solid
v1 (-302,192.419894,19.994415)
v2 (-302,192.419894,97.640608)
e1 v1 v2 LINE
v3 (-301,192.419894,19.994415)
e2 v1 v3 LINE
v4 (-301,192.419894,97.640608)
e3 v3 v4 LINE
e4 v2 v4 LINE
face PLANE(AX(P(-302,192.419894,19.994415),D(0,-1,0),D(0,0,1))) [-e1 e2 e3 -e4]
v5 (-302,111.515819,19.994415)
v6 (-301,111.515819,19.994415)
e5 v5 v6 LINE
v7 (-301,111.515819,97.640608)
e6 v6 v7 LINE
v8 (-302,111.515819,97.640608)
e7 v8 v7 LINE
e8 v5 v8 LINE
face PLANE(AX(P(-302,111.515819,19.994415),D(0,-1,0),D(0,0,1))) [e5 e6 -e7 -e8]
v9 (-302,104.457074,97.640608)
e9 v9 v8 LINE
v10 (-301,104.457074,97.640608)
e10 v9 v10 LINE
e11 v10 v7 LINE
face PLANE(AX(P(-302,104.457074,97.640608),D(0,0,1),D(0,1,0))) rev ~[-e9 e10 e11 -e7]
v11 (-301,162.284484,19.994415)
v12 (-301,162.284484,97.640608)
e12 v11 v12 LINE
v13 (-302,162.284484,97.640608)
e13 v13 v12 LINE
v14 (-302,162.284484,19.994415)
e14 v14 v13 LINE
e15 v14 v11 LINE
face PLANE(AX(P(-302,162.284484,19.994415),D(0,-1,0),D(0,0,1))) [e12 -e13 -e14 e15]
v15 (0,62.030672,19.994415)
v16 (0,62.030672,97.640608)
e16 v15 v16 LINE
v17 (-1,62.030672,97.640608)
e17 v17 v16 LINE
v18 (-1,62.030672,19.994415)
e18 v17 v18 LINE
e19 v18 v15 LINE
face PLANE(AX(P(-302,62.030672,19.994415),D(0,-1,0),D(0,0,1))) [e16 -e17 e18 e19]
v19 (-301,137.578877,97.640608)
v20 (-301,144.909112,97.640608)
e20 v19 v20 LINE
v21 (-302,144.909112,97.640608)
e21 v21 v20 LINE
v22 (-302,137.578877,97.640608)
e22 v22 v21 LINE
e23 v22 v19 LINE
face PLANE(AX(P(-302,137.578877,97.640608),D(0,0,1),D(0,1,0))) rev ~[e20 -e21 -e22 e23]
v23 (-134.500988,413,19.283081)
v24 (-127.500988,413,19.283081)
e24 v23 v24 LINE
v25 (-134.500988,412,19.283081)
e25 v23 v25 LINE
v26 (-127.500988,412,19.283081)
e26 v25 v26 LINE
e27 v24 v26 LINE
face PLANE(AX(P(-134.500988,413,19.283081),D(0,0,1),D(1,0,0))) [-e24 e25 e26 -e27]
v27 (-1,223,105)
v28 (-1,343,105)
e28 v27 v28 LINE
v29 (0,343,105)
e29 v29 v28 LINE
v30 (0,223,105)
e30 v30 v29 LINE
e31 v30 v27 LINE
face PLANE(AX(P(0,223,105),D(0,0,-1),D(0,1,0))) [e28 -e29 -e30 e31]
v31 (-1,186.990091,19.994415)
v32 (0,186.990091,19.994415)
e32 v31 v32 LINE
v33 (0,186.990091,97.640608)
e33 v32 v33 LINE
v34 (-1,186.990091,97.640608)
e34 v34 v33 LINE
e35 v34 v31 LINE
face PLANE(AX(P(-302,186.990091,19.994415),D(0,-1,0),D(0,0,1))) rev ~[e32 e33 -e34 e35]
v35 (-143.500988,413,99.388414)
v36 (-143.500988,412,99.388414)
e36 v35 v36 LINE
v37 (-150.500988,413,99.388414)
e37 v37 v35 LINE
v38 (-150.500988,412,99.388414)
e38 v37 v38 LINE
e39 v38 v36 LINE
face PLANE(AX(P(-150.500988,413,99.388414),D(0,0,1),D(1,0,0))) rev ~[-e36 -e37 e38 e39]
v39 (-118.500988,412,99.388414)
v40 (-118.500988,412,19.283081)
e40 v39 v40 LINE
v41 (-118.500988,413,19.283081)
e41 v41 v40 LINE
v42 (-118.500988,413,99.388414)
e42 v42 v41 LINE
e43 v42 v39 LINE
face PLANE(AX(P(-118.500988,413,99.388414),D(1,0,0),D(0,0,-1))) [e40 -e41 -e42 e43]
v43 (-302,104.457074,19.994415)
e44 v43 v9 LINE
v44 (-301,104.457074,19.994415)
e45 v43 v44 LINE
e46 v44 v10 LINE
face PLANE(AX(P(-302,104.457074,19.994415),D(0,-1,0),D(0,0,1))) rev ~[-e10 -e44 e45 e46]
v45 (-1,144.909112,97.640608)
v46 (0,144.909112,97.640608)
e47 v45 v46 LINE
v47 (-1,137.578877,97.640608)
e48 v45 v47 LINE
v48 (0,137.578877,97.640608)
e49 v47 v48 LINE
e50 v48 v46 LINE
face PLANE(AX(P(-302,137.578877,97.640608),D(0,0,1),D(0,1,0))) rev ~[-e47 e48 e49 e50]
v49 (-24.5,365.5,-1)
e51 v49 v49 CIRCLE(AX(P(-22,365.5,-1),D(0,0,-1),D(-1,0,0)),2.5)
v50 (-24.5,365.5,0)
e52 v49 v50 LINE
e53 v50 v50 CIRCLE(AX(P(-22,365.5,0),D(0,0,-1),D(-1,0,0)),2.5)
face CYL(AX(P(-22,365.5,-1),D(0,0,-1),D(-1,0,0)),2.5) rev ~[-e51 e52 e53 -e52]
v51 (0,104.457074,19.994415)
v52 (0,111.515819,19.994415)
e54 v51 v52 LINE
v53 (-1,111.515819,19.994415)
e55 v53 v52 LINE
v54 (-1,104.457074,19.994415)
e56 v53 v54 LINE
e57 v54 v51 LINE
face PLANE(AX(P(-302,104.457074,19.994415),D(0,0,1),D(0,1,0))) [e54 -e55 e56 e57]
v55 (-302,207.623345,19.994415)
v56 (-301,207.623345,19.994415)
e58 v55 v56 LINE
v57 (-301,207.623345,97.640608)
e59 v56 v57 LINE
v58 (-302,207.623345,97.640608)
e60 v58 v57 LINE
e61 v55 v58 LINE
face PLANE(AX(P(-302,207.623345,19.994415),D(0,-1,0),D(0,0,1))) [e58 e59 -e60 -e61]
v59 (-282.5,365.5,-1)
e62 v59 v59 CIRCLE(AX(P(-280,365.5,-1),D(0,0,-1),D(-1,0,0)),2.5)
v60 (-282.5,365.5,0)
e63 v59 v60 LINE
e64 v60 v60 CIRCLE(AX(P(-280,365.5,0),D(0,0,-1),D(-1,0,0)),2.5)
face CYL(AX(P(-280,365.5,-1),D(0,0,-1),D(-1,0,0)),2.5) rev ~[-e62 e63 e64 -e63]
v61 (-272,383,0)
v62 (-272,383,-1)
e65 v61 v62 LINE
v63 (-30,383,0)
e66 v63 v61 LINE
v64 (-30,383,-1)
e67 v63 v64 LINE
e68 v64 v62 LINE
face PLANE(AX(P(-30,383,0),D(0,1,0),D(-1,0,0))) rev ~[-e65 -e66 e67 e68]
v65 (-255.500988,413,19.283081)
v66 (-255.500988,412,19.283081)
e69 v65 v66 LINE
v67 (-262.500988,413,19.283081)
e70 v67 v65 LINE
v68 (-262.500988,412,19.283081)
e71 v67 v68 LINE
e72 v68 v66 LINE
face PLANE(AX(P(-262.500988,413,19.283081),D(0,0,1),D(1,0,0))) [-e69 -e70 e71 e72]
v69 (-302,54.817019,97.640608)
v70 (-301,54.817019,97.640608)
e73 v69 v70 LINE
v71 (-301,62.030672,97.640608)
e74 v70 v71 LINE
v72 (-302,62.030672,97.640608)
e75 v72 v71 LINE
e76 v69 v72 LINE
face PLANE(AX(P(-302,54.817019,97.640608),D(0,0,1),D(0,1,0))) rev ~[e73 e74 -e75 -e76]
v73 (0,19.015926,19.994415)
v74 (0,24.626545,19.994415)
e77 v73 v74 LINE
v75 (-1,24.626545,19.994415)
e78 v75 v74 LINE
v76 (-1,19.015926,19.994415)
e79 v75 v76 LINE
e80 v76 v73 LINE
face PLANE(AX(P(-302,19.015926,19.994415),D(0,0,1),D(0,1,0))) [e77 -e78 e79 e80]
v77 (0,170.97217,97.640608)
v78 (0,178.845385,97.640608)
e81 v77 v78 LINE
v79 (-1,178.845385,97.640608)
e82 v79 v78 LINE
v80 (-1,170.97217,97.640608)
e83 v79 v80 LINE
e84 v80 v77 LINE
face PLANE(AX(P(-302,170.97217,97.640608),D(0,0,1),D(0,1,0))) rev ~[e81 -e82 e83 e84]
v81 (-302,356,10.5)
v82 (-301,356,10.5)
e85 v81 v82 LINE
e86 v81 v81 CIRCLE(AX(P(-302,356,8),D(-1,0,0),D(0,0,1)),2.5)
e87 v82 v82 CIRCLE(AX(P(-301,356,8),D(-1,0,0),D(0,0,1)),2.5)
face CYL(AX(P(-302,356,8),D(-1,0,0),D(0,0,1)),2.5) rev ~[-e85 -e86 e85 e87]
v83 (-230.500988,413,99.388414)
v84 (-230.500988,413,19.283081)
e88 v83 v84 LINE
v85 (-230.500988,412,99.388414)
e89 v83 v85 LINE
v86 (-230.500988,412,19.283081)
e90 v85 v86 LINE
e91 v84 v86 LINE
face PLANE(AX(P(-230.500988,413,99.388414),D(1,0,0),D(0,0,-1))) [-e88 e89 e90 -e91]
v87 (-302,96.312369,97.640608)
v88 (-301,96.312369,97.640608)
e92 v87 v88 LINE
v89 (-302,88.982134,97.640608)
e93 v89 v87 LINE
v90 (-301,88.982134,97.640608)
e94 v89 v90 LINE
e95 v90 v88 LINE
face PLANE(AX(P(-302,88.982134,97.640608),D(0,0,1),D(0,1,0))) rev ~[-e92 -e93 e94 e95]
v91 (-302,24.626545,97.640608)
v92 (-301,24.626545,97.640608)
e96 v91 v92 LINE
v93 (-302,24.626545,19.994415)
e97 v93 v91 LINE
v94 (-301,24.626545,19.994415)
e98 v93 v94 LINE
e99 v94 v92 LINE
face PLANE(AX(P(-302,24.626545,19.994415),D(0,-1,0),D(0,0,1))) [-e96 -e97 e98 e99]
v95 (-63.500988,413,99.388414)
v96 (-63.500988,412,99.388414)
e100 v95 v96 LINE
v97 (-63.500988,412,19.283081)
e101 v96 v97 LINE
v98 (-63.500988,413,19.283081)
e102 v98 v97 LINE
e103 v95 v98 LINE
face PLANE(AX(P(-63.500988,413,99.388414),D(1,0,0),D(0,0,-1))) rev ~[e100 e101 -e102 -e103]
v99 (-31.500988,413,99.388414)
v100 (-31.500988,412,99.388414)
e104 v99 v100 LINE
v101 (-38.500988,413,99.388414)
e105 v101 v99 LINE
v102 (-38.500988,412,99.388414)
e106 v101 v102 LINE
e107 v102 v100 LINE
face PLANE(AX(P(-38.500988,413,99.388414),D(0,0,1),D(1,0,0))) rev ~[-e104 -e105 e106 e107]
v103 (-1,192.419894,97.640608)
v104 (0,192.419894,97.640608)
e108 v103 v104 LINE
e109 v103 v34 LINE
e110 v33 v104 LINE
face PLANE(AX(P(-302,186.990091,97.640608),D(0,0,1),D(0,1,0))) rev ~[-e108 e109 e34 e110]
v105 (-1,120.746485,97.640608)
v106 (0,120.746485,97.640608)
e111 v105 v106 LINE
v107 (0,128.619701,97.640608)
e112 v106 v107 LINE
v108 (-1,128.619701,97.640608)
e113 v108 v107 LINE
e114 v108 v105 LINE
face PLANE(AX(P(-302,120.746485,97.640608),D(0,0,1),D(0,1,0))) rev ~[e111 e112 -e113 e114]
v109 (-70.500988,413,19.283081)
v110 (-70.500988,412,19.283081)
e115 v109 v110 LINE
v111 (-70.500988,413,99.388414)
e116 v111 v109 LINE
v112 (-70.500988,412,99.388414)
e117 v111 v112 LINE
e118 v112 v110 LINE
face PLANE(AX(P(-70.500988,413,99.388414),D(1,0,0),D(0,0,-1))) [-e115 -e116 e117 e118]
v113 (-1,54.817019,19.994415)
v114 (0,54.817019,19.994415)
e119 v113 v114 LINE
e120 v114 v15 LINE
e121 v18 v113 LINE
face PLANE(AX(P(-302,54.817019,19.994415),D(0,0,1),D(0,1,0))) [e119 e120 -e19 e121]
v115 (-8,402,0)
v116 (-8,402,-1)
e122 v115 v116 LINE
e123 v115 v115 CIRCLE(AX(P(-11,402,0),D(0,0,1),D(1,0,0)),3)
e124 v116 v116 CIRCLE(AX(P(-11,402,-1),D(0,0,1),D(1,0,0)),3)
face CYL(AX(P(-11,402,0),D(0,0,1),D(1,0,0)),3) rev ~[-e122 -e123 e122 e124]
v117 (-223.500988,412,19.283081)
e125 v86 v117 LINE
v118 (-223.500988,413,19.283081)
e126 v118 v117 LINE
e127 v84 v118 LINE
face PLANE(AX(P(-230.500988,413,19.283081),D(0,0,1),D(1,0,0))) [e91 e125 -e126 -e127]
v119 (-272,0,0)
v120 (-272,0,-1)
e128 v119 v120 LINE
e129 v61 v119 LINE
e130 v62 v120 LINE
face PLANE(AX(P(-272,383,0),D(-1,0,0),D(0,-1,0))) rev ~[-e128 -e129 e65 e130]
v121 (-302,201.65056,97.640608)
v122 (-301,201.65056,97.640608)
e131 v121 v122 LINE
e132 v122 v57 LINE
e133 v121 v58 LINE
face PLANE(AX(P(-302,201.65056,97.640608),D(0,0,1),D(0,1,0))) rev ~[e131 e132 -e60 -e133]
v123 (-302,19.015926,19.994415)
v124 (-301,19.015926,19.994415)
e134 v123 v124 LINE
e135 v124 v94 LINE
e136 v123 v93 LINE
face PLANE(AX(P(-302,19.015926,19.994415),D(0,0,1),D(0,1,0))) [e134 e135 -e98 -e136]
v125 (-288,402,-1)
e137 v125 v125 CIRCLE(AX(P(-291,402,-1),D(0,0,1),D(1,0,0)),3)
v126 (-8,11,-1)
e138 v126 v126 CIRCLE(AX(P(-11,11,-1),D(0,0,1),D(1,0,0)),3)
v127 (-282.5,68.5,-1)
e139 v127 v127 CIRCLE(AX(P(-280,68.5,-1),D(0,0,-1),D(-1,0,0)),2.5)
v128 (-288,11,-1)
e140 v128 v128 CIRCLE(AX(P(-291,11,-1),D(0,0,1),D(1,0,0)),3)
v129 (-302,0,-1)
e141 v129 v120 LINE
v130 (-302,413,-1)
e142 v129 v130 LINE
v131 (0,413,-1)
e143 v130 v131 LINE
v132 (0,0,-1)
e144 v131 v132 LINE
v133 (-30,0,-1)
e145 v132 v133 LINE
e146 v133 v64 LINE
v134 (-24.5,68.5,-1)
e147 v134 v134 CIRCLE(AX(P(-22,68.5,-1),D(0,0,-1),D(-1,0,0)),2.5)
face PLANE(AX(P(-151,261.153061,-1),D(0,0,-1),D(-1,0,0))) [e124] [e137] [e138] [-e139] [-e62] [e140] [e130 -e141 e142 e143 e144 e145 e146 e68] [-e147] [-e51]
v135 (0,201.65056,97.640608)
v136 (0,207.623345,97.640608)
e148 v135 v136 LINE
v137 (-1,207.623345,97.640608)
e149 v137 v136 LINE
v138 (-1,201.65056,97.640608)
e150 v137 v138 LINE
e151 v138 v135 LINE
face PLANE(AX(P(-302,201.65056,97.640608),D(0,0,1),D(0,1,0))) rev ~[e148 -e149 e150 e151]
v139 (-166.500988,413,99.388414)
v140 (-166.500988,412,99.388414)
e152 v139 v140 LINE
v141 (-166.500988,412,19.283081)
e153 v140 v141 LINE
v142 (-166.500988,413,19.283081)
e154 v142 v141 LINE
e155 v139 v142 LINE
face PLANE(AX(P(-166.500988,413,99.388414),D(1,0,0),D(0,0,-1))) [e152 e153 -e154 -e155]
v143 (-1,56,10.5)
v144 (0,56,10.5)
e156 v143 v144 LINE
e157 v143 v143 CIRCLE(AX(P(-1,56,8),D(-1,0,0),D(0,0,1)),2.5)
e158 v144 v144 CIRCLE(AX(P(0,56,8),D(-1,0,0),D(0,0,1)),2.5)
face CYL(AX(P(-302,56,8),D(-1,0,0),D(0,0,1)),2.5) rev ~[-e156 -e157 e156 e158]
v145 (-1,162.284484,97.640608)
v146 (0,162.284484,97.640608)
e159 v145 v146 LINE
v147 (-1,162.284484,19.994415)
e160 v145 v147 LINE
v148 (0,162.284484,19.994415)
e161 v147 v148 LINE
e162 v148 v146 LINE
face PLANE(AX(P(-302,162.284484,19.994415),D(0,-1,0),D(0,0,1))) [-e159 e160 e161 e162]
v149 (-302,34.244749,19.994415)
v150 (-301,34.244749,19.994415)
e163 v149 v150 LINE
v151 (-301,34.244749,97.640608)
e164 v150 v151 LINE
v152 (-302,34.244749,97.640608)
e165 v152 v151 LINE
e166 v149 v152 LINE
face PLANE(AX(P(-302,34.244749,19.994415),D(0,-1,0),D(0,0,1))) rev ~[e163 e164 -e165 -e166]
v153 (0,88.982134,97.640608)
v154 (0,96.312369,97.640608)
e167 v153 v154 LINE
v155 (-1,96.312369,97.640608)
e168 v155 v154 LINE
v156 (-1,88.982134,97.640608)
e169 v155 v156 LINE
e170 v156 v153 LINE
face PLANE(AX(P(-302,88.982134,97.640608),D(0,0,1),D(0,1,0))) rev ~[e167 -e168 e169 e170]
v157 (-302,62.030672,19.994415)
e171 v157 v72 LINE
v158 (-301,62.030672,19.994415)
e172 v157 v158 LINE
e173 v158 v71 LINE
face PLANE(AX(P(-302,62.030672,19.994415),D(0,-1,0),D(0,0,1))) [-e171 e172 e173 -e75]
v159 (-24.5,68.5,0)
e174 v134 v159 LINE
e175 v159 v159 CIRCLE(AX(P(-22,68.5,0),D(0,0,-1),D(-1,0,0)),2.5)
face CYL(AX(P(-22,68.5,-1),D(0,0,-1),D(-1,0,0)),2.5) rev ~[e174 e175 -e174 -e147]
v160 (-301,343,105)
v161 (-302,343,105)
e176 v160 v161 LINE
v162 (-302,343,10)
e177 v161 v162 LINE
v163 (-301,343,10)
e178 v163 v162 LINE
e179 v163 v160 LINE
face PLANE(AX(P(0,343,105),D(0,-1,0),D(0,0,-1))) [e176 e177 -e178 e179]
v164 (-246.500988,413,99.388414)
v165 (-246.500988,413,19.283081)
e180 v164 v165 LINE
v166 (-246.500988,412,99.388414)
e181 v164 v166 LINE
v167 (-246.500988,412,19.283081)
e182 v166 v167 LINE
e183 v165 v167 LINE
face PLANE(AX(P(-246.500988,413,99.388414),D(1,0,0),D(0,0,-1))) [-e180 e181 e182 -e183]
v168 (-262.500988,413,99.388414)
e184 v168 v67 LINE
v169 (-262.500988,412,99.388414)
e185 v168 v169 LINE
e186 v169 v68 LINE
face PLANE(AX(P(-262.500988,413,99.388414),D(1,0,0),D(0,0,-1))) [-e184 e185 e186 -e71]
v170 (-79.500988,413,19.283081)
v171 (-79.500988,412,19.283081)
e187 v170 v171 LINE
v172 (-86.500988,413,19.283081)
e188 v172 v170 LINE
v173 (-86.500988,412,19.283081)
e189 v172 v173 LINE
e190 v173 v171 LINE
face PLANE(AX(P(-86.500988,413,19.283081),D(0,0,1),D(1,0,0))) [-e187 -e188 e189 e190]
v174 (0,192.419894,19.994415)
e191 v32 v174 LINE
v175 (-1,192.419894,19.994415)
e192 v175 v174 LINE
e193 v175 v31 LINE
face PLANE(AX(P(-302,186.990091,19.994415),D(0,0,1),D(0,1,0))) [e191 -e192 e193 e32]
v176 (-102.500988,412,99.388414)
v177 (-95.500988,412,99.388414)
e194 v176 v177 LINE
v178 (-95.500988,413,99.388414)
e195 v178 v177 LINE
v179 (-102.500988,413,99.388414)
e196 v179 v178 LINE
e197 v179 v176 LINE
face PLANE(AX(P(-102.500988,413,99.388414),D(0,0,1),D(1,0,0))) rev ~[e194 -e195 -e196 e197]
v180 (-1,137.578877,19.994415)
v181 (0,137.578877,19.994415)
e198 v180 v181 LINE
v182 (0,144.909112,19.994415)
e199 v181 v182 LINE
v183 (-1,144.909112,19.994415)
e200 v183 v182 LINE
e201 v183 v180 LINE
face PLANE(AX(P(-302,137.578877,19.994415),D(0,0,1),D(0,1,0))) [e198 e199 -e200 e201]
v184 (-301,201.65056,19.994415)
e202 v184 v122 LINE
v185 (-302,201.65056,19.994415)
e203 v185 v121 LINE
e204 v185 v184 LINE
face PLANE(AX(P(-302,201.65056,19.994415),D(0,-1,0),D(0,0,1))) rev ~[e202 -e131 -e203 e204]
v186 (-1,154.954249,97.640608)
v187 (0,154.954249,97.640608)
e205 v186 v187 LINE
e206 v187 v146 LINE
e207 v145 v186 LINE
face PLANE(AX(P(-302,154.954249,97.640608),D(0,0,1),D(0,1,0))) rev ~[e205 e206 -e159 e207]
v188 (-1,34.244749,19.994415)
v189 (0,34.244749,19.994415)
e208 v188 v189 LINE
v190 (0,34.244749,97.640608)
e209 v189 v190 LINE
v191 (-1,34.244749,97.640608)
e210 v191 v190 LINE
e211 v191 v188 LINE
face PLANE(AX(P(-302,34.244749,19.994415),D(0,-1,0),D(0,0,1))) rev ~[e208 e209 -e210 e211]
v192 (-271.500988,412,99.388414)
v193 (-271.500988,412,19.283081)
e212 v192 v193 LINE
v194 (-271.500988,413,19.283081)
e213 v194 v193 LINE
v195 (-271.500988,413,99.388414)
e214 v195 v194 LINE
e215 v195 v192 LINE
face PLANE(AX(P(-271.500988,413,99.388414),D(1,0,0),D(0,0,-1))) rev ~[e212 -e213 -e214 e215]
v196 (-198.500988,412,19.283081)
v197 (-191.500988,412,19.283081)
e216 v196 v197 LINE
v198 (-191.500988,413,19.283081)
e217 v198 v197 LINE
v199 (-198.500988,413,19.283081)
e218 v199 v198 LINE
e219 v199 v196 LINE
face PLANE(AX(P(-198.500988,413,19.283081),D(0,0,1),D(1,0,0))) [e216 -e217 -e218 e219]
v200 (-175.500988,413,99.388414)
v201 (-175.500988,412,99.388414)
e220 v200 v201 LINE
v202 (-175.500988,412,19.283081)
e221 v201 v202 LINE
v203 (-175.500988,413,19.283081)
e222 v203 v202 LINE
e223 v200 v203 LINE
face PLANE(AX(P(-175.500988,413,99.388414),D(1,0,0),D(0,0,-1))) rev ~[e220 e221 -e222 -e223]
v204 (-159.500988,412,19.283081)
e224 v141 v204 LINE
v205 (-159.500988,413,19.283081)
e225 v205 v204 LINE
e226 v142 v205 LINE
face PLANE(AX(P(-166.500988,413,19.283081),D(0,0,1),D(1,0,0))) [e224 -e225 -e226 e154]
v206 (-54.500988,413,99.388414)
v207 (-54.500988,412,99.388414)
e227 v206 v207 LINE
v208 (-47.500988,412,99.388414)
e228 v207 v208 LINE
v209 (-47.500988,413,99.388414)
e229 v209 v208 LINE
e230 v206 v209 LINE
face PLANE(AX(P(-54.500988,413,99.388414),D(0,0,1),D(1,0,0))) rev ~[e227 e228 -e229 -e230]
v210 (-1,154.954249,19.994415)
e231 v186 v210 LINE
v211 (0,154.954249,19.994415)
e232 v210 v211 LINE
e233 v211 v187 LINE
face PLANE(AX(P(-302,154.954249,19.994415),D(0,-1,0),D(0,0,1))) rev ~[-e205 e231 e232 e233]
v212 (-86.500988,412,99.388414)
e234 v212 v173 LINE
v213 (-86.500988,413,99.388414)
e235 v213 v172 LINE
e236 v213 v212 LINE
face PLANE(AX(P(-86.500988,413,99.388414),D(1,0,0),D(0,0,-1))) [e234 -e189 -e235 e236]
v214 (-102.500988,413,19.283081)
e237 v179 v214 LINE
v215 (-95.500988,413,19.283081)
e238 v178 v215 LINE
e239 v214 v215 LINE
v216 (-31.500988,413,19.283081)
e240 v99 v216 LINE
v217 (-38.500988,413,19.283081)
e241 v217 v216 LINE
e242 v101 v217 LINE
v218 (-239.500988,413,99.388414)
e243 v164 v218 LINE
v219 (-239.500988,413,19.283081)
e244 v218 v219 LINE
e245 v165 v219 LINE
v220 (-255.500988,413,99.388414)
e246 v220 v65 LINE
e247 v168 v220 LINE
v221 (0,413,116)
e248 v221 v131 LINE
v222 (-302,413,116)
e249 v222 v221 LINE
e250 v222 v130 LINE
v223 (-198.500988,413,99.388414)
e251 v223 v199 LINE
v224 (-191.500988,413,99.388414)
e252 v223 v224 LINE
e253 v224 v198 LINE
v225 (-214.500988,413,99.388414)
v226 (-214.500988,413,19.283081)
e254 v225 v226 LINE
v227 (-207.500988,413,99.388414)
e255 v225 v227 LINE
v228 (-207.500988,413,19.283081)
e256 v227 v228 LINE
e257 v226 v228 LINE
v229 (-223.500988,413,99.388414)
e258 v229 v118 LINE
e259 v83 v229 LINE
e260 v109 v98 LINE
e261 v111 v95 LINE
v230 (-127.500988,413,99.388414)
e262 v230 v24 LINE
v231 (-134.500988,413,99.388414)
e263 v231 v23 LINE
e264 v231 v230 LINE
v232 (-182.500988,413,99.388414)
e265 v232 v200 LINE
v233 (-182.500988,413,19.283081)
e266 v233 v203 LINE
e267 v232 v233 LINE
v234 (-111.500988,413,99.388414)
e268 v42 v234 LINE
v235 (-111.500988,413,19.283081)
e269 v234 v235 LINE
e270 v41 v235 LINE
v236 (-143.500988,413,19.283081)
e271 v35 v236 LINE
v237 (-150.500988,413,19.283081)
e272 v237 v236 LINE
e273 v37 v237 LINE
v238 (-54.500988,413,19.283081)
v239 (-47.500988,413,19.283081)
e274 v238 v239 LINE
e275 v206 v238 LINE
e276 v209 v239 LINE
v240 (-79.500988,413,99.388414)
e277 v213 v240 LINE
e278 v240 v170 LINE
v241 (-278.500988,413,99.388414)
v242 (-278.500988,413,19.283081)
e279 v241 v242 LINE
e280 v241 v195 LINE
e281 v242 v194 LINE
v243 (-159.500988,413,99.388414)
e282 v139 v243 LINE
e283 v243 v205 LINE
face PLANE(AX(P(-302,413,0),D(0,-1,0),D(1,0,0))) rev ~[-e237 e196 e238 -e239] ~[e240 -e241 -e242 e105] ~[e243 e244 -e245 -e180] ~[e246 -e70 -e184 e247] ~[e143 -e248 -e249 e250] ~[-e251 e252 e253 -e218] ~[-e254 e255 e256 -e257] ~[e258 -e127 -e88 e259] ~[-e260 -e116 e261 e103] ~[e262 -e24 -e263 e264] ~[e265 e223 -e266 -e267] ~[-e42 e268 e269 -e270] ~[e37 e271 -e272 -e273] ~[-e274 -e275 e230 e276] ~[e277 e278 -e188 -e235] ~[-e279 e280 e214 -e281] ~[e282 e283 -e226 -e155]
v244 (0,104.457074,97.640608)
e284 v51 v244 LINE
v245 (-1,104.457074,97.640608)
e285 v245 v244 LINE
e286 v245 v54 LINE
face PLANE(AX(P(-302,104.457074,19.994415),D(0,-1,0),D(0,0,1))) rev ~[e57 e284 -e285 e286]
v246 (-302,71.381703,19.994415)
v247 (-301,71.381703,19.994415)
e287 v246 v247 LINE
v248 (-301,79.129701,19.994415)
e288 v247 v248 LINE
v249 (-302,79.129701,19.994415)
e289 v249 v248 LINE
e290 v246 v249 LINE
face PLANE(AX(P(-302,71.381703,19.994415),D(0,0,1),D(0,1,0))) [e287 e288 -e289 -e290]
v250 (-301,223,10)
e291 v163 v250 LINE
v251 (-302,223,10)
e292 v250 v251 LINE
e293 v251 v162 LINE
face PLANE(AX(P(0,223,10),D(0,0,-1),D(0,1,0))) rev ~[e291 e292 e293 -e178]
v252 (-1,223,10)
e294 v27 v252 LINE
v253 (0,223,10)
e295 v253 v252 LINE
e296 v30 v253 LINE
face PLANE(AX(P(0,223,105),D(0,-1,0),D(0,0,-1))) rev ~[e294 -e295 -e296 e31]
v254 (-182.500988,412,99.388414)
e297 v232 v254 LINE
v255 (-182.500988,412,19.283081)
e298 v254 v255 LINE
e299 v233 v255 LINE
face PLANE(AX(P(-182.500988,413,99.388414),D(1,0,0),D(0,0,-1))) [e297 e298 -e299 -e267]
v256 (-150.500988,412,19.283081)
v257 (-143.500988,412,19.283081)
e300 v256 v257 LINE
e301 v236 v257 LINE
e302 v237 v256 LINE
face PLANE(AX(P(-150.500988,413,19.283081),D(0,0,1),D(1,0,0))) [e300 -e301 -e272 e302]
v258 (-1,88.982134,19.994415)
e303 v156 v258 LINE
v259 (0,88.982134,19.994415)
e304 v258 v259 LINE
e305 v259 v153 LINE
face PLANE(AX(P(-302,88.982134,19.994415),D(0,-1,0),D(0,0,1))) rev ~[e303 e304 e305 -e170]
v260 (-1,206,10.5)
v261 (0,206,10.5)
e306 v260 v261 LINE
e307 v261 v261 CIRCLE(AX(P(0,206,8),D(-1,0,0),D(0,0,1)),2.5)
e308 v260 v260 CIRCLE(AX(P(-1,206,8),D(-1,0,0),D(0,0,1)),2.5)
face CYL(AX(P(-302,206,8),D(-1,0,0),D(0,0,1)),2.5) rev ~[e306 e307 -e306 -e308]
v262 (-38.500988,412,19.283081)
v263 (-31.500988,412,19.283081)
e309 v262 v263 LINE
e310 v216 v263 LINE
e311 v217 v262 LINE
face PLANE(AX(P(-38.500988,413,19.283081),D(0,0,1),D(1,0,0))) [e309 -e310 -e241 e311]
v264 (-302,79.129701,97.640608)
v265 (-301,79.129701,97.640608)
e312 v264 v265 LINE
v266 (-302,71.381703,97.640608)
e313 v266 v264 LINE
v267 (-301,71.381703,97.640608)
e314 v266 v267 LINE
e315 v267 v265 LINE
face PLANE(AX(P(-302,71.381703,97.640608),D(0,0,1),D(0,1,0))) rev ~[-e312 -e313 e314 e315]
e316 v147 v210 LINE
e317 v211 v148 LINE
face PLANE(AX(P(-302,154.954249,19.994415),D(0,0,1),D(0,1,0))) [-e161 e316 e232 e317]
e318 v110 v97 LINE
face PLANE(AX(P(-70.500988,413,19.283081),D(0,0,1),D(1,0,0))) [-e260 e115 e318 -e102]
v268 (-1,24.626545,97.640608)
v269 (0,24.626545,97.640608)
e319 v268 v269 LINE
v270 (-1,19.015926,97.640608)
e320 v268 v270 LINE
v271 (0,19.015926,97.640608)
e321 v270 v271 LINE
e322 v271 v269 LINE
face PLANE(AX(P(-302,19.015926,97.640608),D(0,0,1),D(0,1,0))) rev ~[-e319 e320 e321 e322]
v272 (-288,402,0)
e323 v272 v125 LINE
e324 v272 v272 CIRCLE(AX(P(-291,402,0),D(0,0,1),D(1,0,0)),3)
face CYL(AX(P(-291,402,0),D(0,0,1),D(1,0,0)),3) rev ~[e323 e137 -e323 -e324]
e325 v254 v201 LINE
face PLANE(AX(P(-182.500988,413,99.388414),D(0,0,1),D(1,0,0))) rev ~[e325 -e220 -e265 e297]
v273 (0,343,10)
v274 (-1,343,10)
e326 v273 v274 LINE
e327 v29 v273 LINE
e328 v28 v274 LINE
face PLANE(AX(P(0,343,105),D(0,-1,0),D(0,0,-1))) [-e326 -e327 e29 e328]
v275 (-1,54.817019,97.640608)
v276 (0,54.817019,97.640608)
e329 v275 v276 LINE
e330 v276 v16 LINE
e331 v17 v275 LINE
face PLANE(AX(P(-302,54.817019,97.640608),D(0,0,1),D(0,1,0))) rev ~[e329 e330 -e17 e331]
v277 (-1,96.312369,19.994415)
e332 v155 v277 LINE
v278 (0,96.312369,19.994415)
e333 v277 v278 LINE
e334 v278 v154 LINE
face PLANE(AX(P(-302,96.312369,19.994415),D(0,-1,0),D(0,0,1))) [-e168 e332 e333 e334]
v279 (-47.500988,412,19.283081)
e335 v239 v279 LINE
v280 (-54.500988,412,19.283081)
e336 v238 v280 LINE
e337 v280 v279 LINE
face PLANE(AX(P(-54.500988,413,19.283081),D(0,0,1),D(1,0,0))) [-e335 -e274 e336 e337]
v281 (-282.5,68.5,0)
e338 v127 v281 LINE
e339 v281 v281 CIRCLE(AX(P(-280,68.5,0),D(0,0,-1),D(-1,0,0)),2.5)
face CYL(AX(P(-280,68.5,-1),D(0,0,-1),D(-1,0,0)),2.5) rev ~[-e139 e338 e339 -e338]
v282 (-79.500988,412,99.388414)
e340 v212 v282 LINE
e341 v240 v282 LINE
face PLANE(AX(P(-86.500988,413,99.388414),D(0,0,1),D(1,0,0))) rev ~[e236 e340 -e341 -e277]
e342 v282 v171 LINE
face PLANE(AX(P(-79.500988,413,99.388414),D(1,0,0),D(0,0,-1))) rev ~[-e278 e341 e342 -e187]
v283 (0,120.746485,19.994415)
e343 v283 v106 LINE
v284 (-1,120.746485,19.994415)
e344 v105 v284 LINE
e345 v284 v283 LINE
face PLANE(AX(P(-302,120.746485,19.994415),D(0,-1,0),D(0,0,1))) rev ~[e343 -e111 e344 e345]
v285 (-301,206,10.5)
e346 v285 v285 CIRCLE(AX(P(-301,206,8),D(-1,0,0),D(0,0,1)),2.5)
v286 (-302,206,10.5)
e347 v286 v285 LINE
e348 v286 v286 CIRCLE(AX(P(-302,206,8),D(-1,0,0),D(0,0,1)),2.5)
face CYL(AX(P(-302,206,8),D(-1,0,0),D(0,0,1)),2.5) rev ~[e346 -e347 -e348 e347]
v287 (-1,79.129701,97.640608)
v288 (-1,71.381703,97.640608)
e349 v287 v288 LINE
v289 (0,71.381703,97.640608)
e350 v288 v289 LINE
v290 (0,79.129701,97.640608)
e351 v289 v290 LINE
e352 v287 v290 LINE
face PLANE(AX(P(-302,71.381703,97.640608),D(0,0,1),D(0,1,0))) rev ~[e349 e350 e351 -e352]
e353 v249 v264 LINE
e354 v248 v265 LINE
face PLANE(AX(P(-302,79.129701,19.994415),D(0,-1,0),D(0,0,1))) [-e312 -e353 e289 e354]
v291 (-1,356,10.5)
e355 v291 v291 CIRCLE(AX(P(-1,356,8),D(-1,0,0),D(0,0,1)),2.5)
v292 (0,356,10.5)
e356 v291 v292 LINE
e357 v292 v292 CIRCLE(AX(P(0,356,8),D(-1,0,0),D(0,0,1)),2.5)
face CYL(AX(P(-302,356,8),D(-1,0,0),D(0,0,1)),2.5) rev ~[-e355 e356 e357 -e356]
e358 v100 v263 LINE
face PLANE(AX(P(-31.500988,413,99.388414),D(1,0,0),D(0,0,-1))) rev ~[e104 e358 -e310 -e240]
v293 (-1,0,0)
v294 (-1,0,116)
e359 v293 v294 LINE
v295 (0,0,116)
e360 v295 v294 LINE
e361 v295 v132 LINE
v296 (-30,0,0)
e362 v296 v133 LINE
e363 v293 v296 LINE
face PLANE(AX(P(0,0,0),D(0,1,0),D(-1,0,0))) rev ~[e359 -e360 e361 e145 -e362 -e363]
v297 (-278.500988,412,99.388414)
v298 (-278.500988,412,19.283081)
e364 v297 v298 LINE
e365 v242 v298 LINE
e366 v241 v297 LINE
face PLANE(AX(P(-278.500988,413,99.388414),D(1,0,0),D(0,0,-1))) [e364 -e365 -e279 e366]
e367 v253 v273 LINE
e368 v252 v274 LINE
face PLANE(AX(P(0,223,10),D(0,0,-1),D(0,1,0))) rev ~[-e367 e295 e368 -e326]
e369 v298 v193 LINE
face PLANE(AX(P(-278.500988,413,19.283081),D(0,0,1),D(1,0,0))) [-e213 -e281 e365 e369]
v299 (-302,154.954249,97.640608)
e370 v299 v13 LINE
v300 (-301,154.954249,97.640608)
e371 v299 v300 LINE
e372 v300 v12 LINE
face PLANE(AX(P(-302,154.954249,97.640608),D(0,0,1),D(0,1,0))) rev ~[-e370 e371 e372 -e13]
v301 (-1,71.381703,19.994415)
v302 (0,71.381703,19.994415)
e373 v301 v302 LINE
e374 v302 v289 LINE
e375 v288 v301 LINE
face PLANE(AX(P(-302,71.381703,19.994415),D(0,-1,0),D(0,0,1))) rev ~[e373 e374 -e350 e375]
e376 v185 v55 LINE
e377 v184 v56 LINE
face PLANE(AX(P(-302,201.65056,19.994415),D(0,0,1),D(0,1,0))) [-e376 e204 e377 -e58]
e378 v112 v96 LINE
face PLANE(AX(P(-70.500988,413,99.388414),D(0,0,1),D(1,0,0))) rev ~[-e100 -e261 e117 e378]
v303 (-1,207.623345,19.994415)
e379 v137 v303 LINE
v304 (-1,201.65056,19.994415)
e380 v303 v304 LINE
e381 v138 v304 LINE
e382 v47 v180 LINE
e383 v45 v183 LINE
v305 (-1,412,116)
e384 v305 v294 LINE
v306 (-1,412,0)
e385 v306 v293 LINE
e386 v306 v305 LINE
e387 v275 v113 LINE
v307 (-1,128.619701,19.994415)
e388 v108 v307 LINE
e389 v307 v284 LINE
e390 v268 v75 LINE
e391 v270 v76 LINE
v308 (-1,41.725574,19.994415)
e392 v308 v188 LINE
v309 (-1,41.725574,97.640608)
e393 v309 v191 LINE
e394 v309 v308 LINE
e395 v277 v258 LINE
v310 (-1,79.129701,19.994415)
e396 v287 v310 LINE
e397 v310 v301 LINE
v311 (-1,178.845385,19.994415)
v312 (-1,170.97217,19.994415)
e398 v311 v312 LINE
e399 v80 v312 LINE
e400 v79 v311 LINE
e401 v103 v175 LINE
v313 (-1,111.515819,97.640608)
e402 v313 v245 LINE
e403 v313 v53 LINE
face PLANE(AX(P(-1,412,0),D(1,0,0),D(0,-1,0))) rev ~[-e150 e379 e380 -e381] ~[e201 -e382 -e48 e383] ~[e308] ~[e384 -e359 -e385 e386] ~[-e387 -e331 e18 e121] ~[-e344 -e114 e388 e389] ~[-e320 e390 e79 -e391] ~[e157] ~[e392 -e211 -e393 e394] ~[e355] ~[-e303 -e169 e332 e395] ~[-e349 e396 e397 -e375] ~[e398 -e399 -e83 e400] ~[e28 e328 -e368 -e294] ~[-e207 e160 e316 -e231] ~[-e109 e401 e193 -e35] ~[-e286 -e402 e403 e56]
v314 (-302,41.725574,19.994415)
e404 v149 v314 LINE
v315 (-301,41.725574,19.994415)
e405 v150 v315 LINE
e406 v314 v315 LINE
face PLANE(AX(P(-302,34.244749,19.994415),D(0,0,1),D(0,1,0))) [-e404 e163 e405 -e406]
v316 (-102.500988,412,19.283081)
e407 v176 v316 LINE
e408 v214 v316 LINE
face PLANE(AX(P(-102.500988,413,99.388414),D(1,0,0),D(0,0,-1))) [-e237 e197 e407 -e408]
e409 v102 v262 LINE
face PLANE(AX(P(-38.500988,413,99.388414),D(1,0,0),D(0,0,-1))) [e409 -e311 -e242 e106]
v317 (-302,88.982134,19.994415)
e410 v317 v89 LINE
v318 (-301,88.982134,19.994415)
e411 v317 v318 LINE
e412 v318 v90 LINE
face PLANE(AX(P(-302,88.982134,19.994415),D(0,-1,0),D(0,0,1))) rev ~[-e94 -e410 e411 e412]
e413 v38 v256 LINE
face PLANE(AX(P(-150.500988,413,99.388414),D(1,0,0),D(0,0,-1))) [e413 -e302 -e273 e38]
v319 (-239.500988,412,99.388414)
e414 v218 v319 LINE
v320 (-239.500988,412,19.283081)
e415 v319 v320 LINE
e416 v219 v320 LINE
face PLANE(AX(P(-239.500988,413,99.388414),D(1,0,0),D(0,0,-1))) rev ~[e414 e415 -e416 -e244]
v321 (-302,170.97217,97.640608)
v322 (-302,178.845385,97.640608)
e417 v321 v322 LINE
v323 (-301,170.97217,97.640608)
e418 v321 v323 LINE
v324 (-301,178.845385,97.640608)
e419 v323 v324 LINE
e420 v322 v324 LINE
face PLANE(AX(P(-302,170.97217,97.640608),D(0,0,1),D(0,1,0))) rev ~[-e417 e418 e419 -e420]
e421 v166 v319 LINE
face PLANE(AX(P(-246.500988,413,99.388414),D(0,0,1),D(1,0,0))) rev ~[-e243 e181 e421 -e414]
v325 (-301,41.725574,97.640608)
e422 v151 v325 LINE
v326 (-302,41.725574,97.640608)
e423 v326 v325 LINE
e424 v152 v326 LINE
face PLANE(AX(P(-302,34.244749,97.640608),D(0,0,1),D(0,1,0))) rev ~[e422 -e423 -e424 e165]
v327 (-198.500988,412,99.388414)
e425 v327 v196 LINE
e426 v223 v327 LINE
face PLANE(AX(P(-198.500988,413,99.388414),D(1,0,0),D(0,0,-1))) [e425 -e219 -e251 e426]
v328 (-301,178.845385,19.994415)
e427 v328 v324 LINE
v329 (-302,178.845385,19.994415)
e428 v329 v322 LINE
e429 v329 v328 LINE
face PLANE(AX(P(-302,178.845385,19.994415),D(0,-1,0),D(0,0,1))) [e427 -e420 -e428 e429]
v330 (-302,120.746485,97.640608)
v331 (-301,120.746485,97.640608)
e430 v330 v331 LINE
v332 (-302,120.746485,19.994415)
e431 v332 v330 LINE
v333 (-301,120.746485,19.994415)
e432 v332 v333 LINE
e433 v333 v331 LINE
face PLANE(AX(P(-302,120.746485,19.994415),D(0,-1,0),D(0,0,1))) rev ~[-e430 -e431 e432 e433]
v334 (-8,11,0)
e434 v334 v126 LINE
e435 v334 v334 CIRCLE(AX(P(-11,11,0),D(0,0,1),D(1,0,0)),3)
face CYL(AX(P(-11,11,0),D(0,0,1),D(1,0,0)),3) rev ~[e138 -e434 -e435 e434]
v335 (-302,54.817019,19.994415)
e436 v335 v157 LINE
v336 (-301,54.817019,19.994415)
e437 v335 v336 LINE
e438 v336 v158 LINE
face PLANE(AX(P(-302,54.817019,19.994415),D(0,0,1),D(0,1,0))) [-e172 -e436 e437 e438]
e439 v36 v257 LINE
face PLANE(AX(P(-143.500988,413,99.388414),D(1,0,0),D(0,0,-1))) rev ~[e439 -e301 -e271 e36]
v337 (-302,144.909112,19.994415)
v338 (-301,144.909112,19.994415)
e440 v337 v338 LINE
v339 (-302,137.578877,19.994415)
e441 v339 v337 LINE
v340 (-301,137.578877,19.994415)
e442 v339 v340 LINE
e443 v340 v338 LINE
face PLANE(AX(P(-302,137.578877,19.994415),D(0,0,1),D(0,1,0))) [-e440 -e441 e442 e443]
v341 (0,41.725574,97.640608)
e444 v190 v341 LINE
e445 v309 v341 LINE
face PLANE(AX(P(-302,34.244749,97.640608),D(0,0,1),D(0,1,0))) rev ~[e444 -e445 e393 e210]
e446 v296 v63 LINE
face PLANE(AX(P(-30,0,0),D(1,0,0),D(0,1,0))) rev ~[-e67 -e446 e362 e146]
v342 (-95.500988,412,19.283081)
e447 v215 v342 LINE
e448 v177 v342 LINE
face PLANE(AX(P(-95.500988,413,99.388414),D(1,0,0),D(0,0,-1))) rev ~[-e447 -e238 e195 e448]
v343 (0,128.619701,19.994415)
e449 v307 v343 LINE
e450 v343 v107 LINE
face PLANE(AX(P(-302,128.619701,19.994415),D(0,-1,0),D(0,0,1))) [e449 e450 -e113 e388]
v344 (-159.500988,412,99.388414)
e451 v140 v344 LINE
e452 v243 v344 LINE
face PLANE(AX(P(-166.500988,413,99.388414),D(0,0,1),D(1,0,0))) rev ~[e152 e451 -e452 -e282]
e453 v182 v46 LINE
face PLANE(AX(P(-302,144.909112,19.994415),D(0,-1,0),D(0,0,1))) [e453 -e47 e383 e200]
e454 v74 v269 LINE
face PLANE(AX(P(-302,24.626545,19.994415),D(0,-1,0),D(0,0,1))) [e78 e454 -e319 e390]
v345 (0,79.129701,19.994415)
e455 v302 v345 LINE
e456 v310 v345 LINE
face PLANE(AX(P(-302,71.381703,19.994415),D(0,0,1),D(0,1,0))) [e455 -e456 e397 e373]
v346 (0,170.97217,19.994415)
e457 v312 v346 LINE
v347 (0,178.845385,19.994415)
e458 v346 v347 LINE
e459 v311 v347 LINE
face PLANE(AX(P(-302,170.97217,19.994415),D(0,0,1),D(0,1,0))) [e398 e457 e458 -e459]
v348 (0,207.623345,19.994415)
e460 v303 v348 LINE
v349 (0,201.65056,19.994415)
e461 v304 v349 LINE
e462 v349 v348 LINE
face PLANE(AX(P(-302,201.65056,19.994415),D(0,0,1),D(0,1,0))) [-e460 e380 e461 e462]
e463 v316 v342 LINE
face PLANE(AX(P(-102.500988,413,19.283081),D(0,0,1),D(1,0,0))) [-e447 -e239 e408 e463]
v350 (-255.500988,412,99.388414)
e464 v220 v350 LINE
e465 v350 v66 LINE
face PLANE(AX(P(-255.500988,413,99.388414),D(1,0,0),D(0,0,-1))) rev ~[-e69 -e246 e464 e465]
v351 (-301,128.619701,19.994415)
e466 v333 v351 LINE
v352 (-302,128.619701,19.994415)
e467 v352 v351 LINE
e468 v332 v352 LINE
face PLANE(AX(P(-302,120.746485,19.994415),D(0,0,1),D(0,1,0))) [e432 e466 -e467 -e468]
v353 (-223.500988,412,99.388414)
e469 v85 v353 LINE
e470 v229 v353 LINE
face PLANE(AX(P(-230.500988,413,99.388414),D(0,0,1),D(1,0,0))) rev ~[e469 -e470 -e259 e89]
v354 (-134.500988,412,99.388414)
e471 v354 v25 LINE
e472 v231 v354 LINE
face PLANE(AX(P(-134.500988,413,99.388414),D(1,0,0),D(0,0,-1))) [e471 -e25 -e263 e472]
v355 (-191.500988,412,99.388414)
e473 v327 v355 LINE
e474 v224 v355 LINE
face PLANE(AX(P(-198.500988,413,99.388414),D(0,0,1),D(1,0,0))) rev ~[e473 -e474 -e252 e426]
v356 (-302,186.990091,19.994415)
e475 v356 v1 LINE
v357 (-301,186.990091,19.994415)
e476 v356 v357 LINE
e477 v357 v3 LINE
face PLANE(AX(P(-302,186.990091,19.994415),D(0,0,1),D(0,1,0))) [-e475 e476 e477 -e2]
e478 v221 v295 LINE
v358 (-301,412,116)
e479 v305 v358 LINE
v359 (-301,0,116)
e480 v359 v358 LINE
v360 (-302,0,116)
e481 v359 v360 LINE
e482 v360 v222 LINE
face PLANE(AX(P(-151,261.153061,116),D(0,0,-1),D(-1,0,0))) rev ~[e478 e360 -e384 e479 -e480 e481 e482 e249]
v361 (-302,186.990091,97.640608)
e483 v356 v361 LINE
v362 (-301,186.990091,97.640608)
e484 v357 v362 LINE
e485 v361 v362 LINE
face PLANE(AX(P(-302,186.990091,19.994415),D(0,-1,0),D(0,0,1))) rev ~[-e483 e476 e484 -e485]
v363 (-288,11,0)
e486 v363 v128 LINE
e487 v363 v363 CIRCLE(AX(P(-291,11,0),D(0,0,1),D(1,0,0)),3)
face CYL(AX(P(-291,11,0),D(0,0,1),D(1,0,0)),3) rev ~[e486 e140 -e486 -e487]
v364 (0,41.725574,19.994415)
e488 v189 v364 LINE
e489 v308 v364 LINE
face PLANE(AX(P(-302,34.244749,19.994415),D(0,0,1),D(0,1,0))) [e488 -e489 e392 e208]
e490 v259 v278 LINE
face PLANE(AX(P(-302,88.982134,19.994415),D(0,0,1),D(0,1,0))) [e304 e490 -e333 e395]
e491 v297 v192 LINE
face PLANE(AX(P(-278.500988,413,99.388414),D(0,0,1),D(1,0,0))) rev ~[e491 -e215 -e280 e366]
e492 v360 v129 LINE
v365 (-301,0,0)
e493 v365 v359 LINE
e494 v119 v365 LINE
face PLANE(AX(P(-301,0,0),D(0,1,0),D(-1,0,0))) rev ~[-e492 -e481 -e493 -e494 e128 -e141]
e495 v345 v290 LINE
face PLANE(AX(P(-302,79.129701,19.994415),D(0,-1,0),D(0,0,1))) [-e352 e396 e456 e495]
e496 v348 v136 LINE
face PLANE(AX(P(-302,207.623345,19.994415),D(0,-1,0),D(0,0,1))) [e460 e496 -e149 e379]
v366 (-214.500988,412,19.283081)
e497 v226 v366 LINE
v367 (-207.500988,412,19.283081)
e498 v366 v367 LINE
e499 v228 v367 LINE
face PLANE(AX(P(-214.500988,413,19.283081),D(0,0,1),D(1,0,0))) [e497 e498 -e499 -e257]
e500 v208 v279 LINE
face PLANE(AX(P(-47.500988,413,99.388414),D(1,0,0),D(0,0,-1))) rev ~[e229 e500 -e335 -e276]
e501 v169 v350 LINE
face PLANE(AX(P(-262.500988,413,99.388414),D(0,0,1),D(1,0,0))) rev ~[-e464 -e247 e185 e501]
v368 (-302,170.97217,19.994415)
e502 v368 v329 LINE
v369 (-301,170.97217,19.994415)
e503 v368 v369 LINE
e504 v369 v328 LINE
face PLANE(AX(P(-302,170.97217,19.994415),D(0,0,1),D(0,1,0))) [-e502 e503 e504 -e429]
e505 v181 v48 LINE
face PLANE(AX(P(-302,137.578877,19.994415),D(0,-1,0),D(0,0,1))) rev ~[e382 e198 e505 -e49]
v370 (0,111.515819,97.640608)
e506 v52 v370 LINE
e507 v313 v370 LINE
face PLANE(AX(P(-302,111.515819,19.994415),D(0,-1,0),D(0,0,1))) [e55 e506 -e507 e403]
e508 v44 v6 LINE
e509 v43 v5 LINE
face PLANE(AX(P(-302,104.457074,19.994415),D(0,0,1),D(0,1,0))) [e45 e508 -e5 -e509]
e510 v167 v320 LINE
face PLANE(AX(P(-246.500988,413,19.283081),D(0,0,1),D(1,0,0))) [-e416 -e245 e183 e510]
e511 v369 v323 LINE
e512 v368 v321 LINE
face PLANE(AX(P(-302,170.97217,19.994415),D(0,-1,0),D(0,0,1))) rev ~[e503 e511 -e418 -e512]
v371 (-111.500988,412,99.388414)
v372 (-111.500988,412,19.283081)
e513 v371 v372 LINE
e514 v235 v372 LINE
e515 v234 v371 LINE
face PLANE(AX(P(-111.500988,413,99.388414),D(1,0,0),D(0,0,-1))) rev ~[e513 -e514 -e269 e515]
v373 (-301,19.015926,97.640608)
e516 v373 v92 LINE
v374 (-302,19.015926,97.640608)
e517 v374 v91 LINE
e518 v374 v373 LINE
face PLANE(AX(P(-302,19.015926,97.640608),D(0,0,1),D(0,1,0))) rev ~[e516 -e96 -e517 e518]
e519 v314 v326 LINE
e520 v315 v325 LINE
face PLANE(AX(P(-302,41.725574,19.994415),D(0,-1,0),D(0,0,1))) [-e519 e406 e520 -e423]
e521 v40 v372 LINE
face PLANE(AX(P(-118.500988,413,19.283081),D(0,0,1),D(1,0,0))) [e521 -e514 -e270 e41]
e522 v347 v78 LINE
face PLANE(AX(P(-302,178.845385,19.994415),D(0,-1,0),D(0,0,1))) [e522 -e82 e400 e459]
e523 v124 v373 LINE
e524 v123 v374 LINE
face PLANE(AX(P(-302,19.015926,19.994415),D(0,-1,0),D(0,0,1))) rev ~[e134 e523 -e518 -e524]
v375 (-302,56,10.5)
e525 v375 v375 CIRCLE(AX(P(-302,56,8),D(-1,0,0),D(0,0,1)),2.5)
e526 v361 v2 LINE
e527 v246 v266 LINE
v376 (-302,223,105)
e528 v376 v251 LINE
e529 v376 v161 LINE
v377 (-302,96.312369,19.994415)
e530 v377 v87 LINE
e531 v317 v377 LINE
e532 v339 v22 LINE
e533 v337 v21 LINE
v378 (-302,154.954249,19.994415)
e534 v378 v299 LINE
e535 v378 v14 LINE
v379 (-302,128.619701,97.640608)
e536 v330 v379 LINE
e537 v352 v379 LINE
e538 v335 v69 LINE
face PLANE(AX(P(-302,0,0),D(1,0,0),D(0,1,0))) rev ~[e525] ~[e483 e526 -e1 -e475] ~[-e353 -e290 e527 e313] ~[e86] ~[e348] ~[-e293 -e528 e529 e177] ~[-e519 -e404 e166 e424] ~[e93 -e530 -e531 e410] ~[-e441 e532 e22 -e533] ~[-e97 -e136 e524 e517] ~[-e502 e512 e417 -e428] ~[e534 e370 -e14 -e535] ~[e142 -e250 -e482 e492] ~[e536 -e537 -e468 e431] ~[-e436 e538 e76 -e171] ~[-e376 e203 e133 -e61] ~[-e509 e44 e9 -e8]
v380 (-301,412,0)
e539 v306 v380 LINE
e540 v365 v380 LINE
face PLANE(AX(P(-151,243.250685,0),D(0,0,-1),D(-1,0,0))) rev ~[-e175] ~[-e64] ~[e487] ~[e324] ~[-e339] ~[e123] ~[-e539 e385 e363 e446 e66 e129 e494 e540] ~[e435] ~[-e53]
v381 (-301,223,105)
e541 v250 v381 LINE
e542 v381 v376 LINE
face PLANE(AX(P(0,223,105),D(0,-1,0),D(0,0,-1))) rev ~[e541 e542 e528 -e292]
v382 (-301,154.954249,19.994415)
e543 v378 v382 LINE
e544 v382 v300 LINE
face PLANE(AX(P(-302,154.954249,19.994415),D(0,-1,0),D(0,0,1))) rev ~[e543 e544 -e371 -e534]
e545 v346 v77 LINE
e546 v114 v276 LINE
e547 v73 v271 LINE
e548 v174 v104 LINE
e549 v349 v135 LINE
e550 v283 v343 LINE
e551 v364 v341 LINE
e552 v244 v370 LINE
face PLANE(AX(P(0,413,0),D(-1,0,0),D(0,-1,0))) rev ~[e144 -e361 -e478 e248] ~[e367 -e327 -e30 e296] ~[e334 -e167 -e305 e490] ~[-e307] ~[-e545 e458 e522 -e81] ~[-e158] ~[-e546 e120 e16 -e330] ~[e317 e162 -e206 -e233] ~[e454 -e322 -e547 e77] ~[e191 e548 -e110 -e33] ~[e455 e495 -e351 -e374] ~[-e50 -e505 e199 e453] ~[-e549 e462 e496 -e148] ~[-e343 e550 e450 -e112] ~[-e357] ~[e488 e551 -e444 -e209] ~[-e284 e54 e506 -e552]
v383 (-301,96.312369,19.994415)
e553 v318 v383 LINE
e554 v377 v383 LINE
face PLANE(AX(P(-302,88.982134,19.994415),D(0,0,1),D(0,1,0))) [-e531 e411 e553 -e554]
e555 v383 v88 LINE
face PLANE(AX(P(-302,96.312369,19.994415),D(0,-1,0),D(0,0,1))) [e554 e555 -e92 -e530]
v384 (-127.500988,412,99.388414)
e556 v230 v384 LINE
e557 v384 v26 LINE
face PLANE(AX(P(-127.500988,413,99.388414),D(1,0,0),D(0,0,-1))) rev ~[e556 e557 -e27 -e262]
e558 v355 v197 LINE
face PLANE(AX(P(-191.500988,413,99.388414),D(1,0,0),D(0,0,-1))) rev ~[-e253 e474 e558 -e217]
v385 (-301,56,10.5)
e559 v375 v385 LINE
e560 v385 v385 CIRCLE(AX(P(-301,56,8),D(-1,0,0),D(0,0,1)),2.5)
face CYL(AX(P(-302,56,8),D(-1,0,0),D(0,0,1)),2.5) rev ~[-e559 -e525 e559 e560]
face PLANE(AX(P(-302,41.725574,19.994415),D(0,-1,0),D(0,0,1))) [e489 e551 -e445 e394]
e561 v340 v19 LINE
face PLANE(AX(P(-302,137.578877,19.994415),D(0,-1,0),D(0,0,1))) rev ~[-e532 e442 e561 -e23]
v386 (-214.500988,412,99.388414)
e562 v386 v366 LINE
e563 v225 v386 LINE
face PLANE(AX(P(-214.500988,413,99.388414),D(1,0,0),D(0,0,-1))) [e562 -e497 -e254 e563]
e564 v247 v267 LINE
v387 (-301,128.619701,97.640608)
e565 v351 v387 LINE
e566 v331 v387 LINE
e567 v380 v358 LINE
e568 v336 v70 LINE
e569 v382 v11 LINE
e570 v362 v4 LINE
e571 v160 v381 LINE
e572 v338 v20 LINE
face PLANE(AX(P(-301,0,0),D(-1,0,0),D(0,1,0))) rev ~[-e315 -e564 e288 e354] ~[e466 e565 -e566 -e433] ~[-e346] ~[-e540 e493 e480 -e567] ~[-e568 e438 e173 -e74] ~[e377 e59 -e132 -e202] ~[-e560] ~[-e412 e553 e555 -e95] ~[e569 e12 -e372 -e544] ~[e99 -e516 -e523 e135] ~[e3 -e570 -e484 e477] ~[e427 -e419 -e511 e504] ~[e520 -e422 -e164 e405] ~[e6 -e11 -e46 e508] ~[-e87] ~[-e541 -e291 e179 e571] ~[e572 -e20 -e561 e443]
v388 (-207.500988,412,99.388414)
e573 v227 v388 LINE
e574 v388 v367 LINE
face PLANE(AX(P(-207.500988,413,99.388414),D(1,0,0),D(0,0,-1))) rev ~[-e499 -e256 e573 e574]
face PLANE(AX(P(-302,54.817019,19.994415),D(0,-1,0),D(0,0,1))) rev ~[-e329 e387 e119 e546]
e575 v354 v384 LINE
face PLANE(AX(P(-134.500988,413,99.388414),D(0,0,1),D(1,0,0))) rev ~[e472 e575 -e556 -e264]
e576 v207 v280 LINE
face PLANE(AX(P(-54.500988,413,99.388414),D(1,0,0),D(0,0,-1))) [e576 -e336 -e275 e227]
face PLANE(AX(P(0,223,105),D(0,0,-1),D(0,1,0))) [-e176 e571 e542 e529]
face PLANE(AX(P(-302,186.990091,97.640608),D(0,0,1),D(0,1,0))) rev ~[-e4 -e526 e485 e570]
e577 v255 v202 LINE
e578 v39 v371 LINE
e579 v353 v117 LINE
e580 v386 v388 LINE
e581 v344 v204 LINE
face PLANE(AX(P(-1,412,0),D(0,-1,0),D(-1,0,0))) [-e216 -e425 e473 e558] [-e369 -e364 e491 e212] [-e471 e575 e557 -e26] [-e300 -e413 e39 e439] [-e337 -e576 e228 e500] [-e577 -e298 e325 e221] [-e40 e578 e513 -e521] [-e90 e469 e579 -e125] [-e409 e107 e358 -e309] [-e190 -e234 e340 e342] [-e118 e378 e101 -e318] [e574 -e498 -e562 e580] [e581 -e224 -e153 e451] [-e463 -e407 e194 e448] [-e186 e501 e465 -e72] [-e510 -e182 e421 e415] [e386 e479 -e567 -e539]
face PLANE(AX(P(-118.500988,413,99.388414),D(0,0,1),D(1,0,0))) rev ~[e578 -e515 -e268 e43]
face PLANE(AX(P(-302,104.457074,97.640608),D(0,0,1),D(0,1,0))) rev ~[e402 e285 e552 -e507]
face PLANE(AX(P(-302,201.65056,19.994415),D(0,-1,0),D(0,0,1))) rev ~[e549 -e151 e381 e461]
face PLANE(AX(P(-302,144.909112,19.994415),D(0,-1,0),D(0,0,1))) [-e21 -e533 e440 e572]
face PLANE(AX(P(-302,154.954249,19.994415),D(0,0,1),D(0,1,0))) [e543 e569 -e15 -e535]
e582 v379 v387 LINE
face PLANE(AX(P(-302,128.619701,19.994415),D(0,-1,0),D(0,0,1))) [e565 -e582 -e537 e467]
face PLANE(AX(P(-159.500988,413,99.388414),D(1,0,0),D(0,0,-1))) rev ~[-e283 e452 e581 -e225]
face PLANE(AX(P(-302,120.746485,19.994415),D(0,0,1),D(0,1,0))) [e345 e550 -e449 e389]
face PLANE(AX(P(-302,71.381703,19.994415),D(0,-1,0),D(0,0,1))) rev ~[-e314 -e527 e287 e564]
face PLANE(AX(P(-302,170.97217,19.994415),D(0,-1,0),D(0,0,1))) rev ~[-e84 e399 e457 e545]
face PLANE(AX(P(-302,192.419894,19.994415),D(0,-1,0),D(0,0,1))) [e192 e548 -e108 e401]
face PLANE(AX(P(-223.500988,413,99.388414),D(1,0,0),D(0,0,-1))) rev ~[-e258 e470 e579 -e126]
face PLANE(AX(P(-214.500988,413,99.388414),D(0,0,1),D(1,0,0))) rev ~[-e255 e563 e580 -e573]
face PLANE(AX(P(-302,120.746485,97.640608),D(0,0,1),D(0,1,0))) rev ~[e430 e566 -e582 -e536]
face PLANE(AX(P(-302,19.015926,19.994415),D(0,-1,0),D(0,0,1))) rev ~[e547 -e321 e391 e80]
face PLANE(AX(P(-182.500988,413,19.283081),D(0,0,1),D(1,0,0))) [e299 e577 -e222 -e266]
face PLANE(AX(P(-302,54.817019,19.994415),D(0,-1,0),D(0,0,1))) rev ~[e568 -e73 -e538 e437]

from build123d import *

# Parameters (mm, degrees)
SALIENTE_EXTRUIR1_DEPTH = 116
SALIENTE_EXTRUIR2_DEPTH = 1
CROQUIS4_R              = 2.5
CORTAR_EXTRUIR1_DEPTH   = 1
CROQUIS8_W              = 77.646192771
CROQUIS8_H              = 5.972784059
CROQUIS8_H_2            = 5.429803691
CROQUIS8_H_3            = 7.873215351
CROQUIS8_H_4            = 7.330234982
CROQUIS8_H_5            = 7.058744797
CROQUIS8_H_6            = 7.74799772
CROQUIS8_H_7            = 7.21365305
CROQUIS8_H_8            = 7.480825385
CROQUIS8_H_9            = 5.610619039
CORTAR_EXTRUIR3_DEPTH   = 302
CROQUIS9_W              = 7
CROQUIS9_H              = 80.105332856
CORTAR_EXTRUIR4_DEPTH   = 1
CROQUIS10_W             = 7
CROQUIS10_H             = 80.105332856
CORTAR_EXTRUIR5_DEPTH   = 1
SALIENTE_EXTRUIR4_DEPTH = 1
CROQUIS12_W             = 95
CROQUIS12_H             = 120
CORTAR_EXTRUIR6_DEPTH   = 302
CROQUIS13_R             = 3
CORTAR_EXTRUIR7_DEPTH   = 1
CROQUIS14_R             = 2.5
CORTAR_EXTRUIR8_DEPTH   = 302


with BuildPart() as part:
    # Croquis1 → Saliente-Extruir1 (new body)
    with BuildSketch(Plane.XY):
        Polygon((-301, 1), (-301, 0), (-302, 0), (-302, 413), (0, 413), (0, 0), (-1, 0), (-1, 1), (-1, 412), (-301, 412), align=None)
    extrude(amount=SALIENTE_EXTRUIR1_DEPTH)

    # Croquis8 → Cortar-Extruir3 (cut)
    with BuildSketch(Plane.ZY.offset(302)):
        with Locations((58.817511247, 204.636952511)):
            Rectangle(CROQUIS8_W, CROQUIS8_H)
        with Locations((58.817511247, 189.704992363)):
            Rectangle(CROQUIS8_W, CROQUIS8_H_2)
        with Locations((58.817511247, 174.908777307)):
            Rectangle(CROQUIS8_W, CROQUIS8_H_3)
        with Locations((58.817511247, 158.619366236)):
            Rectangle(CROQUIS8_W, CROQUIS8_H_4)
        with Locations((58.817511247, 141.243994427)):
            Rectangle(CROQUIS8_W, CROQUIS8_H_4)
        with Locations((58.817511247, 124.683093172)):
            Rectangle(CROQUIS8_W, CROQUIS8_H_3)
        with Locations((58.817511247, 107.986446824)):
            Rectangle(CROQUIS8_W, CROQUIS8_H_5)
        with Locations((58.817511247, 92.647251399)):
            Rectangle(CROQUIS8_W, CROQUIS8_H_4)
        with Locations((58.817511247, 75.255702304)):
            Rectangle(CROQUIS8_W, CROQUIS8_H_6)
        with Locations((58.817511247, 58.423845187)):
            Rectangle(CROQUIS8_W, CROQUIS8_H_7)
        with Locations((58.817511247, 37.985161546)):
            Rectangle(CROQUIS8_W, CROQUIS8_H_8)
        with Locations((58.817511247, 21.821235267)):
            Rectangle(CROQUIS8_W, CROQUIS8_H_9)
    extrude(amount=-CORTAR_EXTRUIR3_DEPTH, mode=Mode.SUBTRACT)

    # Croquis9 → Cortar-Extruir4 (cut)
    with BuildSketch(Plane(origin=(0, 413, 0), x_dir=(1, 0, 0), z_dir=(0, 1, 0))):
        with Locations((-275.000988129, -59.335747211)):
            Rectangle(CROQUIS9_W, CROQUIS9_H)
        with Locations((-259.000988129, -59.335747211)):
            Rectangle(CROQUIS9_W, CROQUIS9_H)
        with Locations((-243.000988129, -59.335747211)):
            Rectangle(CROQUIS9_W, CROQUIS9_H)
        with Locations((-227.000988129, -59.335747211)):
            Rectangle(CROQUIS9_W, CROQUIS9_H)
        with Locations((-211.000988129, -59.335747211)):
            Rectangle(CROQUIS9_W, CROQUIS9_H)
        with Locations((-195.000988129, -59.335747211)):
            Rectangle(CROQUIS9_W, CROQUIS9_H)
        with Locations((-179.000988129, -59.335747211)):
            Rectangle(CROQUIS9_W, CROQUIS9_H)
        with Locations((-163.000988129, -59.335747211)):
            Rectangle(CROQUIS9_W, CROQUIS9_H)
    extrude(amount=-CORTAR_EXTRUIR4_DEPTH, mode=Mode.SUBTRACT)

    # Croquis10 → Cortar-Extruir5 (cut)
    with BuildSketch(Plane(origin=(0, 413, 0), x_dir=(1, 0, 0), z_dir=(0, 1, 0))):
        with Locations((-147.000988129, -59.335747211)):
            Rectangle(CROQUIS10_W, CROQUIS10_H)
        with Locations((-131.000988129, -59.335747211)):
            Rectangle(CROQUIS10_W, CROQUIS10_H)
        with Locations((-115.000988129, -59.335747211)):
            Rectangle(CROQUIS10_W, CROQUIS10_H)
        with Locations((-99.000988129, -59.335747211)):
            Rectangle(CROQUIS10_W, CROQUIS10_H)
        with Locations((-83.000988129, -59.335747211)):
            Rectangle(CROQUIS10_W, CROQUIS10_H)
        with Locations((-67.000988129, -59.335747211)):
            Rectangle(CROQUIS10_W, CROQUIS10_H)
        with Locations((-51.000988129, -59.335747211)):
            Rectangle(CROQUIS10_W, CROQUIS10_H)
        with Locations((-35.000988129, -59.335747211)):
            Rectangle(CROQUIS10_W, CROQUIS10_H)
    extrude(amount=-CORTAR_EXTRUIR5_DEPTH, mode=Mode.SUBTRACT)



with BuildPart() as body_2:
    # Croquis2 → Saliente-Extruir2 (new body)
    with BuildSketch(Plane(origin=(0, 0, 0), x_dir=(-1, 0, 0), z_dir=(0, 0, -1))):
        Polygon((30, 383), (272, 383), (272, 0), (301, 0), (301, 412), (1, 412), (1, 0), (30, 0), align=None)
    extrude(amount=SALIENTE_EXTRUIR2_DEPTH)

    # Croquis4 → Cortar-Extruir1 (cut)
    with BuildSketch(Plane(origin=(0, 0, -1), x_dir=(-1, 0, 0), z_dir=(0, 0, -1))):
        with Locations((22, 365.5)):
            Circle(CROQUIS4_R)
        with Locations((22, 68.5)):
            Circle(CROQUIS4_R)
        with Locations((280, 68.5)):
            Circle(CROQUIS4_R)
        with Locations((280, 365.5)):
            Circle(CROQUIS4_R)
    extrude(amount=-CORTAR_EXTRUIR1_DEPTH, mode=Mode.SUBTRACT)


with BuildPart() as part_1:
    add(part.part)

    add(body_2.part)  # Saliente-Extruir4 merges body 2
    # Croquis11 → Saliente-Extruir4 (add)
    with BuildSketch(Plane(origin=(0, 0, 0), x_dir=(-1, 0, 0), z_dir=(0, 0, -1))):
        Polygon((301, 0), (302, 0), (302, 412), (302, 413), (301, 413), (1, 413), (0, 413), (0, 412), (0, 0), (1, 0), (1, 412), (301, 412), align=None)
    extrude(amount=SALIENTE_EXTRUIR4_DEPTH)

    # Croquis12 → Cortar-Extruir6 (cut)
    with BuildSketch(Plane(origin=(0, 0, 0), x_dir=(0, 0, -1), z_dir=(1, 0, 0))):
        with Locations((-57.5, 283)):
            Rectangle(CROQUIS12_W, CROQUIS12_H)
    extrude(amount=-CORTAR_EXTRUIR6_DEPTH, mode=Mode.SUBTRACT)

    # Croquis13 → Cortar-Extruir7 (cut)
    with BuildSketch(Plane.XY):
        with Locations((-291, 402)):
            Circle(CROQUIS13_R)
        with Locations((-291, 11)):
            Circle(CROQUIS13_R)
        with Locations((-11, 11)):
            Circle(CROQUIS13_R)
        with Locations((-11, 402)):
            Circle(CROQUIS13_R)
    extrude(amount=-CORTAR_EXTRUIR7_DEPTH, mode=Mode.SUBTRACT)

    # Croquis14 → Cortar-Extruir8 (cut)
    with BuildSketch(Plane.ZY.offset(302)):
        with Locations((8, 356)):
            Circle(CROQUIS14_R)
        with Locations((8, 56)):
            Circle(CROQUIS14_R)
        with Locations((8, 206)):
            Circle(CROQUIS14_R)
    extrude(amount=-CORTAR_EXTRUIR8_DEPTH, mode=Mode.SUBTRACT)


solid = part_1.part
